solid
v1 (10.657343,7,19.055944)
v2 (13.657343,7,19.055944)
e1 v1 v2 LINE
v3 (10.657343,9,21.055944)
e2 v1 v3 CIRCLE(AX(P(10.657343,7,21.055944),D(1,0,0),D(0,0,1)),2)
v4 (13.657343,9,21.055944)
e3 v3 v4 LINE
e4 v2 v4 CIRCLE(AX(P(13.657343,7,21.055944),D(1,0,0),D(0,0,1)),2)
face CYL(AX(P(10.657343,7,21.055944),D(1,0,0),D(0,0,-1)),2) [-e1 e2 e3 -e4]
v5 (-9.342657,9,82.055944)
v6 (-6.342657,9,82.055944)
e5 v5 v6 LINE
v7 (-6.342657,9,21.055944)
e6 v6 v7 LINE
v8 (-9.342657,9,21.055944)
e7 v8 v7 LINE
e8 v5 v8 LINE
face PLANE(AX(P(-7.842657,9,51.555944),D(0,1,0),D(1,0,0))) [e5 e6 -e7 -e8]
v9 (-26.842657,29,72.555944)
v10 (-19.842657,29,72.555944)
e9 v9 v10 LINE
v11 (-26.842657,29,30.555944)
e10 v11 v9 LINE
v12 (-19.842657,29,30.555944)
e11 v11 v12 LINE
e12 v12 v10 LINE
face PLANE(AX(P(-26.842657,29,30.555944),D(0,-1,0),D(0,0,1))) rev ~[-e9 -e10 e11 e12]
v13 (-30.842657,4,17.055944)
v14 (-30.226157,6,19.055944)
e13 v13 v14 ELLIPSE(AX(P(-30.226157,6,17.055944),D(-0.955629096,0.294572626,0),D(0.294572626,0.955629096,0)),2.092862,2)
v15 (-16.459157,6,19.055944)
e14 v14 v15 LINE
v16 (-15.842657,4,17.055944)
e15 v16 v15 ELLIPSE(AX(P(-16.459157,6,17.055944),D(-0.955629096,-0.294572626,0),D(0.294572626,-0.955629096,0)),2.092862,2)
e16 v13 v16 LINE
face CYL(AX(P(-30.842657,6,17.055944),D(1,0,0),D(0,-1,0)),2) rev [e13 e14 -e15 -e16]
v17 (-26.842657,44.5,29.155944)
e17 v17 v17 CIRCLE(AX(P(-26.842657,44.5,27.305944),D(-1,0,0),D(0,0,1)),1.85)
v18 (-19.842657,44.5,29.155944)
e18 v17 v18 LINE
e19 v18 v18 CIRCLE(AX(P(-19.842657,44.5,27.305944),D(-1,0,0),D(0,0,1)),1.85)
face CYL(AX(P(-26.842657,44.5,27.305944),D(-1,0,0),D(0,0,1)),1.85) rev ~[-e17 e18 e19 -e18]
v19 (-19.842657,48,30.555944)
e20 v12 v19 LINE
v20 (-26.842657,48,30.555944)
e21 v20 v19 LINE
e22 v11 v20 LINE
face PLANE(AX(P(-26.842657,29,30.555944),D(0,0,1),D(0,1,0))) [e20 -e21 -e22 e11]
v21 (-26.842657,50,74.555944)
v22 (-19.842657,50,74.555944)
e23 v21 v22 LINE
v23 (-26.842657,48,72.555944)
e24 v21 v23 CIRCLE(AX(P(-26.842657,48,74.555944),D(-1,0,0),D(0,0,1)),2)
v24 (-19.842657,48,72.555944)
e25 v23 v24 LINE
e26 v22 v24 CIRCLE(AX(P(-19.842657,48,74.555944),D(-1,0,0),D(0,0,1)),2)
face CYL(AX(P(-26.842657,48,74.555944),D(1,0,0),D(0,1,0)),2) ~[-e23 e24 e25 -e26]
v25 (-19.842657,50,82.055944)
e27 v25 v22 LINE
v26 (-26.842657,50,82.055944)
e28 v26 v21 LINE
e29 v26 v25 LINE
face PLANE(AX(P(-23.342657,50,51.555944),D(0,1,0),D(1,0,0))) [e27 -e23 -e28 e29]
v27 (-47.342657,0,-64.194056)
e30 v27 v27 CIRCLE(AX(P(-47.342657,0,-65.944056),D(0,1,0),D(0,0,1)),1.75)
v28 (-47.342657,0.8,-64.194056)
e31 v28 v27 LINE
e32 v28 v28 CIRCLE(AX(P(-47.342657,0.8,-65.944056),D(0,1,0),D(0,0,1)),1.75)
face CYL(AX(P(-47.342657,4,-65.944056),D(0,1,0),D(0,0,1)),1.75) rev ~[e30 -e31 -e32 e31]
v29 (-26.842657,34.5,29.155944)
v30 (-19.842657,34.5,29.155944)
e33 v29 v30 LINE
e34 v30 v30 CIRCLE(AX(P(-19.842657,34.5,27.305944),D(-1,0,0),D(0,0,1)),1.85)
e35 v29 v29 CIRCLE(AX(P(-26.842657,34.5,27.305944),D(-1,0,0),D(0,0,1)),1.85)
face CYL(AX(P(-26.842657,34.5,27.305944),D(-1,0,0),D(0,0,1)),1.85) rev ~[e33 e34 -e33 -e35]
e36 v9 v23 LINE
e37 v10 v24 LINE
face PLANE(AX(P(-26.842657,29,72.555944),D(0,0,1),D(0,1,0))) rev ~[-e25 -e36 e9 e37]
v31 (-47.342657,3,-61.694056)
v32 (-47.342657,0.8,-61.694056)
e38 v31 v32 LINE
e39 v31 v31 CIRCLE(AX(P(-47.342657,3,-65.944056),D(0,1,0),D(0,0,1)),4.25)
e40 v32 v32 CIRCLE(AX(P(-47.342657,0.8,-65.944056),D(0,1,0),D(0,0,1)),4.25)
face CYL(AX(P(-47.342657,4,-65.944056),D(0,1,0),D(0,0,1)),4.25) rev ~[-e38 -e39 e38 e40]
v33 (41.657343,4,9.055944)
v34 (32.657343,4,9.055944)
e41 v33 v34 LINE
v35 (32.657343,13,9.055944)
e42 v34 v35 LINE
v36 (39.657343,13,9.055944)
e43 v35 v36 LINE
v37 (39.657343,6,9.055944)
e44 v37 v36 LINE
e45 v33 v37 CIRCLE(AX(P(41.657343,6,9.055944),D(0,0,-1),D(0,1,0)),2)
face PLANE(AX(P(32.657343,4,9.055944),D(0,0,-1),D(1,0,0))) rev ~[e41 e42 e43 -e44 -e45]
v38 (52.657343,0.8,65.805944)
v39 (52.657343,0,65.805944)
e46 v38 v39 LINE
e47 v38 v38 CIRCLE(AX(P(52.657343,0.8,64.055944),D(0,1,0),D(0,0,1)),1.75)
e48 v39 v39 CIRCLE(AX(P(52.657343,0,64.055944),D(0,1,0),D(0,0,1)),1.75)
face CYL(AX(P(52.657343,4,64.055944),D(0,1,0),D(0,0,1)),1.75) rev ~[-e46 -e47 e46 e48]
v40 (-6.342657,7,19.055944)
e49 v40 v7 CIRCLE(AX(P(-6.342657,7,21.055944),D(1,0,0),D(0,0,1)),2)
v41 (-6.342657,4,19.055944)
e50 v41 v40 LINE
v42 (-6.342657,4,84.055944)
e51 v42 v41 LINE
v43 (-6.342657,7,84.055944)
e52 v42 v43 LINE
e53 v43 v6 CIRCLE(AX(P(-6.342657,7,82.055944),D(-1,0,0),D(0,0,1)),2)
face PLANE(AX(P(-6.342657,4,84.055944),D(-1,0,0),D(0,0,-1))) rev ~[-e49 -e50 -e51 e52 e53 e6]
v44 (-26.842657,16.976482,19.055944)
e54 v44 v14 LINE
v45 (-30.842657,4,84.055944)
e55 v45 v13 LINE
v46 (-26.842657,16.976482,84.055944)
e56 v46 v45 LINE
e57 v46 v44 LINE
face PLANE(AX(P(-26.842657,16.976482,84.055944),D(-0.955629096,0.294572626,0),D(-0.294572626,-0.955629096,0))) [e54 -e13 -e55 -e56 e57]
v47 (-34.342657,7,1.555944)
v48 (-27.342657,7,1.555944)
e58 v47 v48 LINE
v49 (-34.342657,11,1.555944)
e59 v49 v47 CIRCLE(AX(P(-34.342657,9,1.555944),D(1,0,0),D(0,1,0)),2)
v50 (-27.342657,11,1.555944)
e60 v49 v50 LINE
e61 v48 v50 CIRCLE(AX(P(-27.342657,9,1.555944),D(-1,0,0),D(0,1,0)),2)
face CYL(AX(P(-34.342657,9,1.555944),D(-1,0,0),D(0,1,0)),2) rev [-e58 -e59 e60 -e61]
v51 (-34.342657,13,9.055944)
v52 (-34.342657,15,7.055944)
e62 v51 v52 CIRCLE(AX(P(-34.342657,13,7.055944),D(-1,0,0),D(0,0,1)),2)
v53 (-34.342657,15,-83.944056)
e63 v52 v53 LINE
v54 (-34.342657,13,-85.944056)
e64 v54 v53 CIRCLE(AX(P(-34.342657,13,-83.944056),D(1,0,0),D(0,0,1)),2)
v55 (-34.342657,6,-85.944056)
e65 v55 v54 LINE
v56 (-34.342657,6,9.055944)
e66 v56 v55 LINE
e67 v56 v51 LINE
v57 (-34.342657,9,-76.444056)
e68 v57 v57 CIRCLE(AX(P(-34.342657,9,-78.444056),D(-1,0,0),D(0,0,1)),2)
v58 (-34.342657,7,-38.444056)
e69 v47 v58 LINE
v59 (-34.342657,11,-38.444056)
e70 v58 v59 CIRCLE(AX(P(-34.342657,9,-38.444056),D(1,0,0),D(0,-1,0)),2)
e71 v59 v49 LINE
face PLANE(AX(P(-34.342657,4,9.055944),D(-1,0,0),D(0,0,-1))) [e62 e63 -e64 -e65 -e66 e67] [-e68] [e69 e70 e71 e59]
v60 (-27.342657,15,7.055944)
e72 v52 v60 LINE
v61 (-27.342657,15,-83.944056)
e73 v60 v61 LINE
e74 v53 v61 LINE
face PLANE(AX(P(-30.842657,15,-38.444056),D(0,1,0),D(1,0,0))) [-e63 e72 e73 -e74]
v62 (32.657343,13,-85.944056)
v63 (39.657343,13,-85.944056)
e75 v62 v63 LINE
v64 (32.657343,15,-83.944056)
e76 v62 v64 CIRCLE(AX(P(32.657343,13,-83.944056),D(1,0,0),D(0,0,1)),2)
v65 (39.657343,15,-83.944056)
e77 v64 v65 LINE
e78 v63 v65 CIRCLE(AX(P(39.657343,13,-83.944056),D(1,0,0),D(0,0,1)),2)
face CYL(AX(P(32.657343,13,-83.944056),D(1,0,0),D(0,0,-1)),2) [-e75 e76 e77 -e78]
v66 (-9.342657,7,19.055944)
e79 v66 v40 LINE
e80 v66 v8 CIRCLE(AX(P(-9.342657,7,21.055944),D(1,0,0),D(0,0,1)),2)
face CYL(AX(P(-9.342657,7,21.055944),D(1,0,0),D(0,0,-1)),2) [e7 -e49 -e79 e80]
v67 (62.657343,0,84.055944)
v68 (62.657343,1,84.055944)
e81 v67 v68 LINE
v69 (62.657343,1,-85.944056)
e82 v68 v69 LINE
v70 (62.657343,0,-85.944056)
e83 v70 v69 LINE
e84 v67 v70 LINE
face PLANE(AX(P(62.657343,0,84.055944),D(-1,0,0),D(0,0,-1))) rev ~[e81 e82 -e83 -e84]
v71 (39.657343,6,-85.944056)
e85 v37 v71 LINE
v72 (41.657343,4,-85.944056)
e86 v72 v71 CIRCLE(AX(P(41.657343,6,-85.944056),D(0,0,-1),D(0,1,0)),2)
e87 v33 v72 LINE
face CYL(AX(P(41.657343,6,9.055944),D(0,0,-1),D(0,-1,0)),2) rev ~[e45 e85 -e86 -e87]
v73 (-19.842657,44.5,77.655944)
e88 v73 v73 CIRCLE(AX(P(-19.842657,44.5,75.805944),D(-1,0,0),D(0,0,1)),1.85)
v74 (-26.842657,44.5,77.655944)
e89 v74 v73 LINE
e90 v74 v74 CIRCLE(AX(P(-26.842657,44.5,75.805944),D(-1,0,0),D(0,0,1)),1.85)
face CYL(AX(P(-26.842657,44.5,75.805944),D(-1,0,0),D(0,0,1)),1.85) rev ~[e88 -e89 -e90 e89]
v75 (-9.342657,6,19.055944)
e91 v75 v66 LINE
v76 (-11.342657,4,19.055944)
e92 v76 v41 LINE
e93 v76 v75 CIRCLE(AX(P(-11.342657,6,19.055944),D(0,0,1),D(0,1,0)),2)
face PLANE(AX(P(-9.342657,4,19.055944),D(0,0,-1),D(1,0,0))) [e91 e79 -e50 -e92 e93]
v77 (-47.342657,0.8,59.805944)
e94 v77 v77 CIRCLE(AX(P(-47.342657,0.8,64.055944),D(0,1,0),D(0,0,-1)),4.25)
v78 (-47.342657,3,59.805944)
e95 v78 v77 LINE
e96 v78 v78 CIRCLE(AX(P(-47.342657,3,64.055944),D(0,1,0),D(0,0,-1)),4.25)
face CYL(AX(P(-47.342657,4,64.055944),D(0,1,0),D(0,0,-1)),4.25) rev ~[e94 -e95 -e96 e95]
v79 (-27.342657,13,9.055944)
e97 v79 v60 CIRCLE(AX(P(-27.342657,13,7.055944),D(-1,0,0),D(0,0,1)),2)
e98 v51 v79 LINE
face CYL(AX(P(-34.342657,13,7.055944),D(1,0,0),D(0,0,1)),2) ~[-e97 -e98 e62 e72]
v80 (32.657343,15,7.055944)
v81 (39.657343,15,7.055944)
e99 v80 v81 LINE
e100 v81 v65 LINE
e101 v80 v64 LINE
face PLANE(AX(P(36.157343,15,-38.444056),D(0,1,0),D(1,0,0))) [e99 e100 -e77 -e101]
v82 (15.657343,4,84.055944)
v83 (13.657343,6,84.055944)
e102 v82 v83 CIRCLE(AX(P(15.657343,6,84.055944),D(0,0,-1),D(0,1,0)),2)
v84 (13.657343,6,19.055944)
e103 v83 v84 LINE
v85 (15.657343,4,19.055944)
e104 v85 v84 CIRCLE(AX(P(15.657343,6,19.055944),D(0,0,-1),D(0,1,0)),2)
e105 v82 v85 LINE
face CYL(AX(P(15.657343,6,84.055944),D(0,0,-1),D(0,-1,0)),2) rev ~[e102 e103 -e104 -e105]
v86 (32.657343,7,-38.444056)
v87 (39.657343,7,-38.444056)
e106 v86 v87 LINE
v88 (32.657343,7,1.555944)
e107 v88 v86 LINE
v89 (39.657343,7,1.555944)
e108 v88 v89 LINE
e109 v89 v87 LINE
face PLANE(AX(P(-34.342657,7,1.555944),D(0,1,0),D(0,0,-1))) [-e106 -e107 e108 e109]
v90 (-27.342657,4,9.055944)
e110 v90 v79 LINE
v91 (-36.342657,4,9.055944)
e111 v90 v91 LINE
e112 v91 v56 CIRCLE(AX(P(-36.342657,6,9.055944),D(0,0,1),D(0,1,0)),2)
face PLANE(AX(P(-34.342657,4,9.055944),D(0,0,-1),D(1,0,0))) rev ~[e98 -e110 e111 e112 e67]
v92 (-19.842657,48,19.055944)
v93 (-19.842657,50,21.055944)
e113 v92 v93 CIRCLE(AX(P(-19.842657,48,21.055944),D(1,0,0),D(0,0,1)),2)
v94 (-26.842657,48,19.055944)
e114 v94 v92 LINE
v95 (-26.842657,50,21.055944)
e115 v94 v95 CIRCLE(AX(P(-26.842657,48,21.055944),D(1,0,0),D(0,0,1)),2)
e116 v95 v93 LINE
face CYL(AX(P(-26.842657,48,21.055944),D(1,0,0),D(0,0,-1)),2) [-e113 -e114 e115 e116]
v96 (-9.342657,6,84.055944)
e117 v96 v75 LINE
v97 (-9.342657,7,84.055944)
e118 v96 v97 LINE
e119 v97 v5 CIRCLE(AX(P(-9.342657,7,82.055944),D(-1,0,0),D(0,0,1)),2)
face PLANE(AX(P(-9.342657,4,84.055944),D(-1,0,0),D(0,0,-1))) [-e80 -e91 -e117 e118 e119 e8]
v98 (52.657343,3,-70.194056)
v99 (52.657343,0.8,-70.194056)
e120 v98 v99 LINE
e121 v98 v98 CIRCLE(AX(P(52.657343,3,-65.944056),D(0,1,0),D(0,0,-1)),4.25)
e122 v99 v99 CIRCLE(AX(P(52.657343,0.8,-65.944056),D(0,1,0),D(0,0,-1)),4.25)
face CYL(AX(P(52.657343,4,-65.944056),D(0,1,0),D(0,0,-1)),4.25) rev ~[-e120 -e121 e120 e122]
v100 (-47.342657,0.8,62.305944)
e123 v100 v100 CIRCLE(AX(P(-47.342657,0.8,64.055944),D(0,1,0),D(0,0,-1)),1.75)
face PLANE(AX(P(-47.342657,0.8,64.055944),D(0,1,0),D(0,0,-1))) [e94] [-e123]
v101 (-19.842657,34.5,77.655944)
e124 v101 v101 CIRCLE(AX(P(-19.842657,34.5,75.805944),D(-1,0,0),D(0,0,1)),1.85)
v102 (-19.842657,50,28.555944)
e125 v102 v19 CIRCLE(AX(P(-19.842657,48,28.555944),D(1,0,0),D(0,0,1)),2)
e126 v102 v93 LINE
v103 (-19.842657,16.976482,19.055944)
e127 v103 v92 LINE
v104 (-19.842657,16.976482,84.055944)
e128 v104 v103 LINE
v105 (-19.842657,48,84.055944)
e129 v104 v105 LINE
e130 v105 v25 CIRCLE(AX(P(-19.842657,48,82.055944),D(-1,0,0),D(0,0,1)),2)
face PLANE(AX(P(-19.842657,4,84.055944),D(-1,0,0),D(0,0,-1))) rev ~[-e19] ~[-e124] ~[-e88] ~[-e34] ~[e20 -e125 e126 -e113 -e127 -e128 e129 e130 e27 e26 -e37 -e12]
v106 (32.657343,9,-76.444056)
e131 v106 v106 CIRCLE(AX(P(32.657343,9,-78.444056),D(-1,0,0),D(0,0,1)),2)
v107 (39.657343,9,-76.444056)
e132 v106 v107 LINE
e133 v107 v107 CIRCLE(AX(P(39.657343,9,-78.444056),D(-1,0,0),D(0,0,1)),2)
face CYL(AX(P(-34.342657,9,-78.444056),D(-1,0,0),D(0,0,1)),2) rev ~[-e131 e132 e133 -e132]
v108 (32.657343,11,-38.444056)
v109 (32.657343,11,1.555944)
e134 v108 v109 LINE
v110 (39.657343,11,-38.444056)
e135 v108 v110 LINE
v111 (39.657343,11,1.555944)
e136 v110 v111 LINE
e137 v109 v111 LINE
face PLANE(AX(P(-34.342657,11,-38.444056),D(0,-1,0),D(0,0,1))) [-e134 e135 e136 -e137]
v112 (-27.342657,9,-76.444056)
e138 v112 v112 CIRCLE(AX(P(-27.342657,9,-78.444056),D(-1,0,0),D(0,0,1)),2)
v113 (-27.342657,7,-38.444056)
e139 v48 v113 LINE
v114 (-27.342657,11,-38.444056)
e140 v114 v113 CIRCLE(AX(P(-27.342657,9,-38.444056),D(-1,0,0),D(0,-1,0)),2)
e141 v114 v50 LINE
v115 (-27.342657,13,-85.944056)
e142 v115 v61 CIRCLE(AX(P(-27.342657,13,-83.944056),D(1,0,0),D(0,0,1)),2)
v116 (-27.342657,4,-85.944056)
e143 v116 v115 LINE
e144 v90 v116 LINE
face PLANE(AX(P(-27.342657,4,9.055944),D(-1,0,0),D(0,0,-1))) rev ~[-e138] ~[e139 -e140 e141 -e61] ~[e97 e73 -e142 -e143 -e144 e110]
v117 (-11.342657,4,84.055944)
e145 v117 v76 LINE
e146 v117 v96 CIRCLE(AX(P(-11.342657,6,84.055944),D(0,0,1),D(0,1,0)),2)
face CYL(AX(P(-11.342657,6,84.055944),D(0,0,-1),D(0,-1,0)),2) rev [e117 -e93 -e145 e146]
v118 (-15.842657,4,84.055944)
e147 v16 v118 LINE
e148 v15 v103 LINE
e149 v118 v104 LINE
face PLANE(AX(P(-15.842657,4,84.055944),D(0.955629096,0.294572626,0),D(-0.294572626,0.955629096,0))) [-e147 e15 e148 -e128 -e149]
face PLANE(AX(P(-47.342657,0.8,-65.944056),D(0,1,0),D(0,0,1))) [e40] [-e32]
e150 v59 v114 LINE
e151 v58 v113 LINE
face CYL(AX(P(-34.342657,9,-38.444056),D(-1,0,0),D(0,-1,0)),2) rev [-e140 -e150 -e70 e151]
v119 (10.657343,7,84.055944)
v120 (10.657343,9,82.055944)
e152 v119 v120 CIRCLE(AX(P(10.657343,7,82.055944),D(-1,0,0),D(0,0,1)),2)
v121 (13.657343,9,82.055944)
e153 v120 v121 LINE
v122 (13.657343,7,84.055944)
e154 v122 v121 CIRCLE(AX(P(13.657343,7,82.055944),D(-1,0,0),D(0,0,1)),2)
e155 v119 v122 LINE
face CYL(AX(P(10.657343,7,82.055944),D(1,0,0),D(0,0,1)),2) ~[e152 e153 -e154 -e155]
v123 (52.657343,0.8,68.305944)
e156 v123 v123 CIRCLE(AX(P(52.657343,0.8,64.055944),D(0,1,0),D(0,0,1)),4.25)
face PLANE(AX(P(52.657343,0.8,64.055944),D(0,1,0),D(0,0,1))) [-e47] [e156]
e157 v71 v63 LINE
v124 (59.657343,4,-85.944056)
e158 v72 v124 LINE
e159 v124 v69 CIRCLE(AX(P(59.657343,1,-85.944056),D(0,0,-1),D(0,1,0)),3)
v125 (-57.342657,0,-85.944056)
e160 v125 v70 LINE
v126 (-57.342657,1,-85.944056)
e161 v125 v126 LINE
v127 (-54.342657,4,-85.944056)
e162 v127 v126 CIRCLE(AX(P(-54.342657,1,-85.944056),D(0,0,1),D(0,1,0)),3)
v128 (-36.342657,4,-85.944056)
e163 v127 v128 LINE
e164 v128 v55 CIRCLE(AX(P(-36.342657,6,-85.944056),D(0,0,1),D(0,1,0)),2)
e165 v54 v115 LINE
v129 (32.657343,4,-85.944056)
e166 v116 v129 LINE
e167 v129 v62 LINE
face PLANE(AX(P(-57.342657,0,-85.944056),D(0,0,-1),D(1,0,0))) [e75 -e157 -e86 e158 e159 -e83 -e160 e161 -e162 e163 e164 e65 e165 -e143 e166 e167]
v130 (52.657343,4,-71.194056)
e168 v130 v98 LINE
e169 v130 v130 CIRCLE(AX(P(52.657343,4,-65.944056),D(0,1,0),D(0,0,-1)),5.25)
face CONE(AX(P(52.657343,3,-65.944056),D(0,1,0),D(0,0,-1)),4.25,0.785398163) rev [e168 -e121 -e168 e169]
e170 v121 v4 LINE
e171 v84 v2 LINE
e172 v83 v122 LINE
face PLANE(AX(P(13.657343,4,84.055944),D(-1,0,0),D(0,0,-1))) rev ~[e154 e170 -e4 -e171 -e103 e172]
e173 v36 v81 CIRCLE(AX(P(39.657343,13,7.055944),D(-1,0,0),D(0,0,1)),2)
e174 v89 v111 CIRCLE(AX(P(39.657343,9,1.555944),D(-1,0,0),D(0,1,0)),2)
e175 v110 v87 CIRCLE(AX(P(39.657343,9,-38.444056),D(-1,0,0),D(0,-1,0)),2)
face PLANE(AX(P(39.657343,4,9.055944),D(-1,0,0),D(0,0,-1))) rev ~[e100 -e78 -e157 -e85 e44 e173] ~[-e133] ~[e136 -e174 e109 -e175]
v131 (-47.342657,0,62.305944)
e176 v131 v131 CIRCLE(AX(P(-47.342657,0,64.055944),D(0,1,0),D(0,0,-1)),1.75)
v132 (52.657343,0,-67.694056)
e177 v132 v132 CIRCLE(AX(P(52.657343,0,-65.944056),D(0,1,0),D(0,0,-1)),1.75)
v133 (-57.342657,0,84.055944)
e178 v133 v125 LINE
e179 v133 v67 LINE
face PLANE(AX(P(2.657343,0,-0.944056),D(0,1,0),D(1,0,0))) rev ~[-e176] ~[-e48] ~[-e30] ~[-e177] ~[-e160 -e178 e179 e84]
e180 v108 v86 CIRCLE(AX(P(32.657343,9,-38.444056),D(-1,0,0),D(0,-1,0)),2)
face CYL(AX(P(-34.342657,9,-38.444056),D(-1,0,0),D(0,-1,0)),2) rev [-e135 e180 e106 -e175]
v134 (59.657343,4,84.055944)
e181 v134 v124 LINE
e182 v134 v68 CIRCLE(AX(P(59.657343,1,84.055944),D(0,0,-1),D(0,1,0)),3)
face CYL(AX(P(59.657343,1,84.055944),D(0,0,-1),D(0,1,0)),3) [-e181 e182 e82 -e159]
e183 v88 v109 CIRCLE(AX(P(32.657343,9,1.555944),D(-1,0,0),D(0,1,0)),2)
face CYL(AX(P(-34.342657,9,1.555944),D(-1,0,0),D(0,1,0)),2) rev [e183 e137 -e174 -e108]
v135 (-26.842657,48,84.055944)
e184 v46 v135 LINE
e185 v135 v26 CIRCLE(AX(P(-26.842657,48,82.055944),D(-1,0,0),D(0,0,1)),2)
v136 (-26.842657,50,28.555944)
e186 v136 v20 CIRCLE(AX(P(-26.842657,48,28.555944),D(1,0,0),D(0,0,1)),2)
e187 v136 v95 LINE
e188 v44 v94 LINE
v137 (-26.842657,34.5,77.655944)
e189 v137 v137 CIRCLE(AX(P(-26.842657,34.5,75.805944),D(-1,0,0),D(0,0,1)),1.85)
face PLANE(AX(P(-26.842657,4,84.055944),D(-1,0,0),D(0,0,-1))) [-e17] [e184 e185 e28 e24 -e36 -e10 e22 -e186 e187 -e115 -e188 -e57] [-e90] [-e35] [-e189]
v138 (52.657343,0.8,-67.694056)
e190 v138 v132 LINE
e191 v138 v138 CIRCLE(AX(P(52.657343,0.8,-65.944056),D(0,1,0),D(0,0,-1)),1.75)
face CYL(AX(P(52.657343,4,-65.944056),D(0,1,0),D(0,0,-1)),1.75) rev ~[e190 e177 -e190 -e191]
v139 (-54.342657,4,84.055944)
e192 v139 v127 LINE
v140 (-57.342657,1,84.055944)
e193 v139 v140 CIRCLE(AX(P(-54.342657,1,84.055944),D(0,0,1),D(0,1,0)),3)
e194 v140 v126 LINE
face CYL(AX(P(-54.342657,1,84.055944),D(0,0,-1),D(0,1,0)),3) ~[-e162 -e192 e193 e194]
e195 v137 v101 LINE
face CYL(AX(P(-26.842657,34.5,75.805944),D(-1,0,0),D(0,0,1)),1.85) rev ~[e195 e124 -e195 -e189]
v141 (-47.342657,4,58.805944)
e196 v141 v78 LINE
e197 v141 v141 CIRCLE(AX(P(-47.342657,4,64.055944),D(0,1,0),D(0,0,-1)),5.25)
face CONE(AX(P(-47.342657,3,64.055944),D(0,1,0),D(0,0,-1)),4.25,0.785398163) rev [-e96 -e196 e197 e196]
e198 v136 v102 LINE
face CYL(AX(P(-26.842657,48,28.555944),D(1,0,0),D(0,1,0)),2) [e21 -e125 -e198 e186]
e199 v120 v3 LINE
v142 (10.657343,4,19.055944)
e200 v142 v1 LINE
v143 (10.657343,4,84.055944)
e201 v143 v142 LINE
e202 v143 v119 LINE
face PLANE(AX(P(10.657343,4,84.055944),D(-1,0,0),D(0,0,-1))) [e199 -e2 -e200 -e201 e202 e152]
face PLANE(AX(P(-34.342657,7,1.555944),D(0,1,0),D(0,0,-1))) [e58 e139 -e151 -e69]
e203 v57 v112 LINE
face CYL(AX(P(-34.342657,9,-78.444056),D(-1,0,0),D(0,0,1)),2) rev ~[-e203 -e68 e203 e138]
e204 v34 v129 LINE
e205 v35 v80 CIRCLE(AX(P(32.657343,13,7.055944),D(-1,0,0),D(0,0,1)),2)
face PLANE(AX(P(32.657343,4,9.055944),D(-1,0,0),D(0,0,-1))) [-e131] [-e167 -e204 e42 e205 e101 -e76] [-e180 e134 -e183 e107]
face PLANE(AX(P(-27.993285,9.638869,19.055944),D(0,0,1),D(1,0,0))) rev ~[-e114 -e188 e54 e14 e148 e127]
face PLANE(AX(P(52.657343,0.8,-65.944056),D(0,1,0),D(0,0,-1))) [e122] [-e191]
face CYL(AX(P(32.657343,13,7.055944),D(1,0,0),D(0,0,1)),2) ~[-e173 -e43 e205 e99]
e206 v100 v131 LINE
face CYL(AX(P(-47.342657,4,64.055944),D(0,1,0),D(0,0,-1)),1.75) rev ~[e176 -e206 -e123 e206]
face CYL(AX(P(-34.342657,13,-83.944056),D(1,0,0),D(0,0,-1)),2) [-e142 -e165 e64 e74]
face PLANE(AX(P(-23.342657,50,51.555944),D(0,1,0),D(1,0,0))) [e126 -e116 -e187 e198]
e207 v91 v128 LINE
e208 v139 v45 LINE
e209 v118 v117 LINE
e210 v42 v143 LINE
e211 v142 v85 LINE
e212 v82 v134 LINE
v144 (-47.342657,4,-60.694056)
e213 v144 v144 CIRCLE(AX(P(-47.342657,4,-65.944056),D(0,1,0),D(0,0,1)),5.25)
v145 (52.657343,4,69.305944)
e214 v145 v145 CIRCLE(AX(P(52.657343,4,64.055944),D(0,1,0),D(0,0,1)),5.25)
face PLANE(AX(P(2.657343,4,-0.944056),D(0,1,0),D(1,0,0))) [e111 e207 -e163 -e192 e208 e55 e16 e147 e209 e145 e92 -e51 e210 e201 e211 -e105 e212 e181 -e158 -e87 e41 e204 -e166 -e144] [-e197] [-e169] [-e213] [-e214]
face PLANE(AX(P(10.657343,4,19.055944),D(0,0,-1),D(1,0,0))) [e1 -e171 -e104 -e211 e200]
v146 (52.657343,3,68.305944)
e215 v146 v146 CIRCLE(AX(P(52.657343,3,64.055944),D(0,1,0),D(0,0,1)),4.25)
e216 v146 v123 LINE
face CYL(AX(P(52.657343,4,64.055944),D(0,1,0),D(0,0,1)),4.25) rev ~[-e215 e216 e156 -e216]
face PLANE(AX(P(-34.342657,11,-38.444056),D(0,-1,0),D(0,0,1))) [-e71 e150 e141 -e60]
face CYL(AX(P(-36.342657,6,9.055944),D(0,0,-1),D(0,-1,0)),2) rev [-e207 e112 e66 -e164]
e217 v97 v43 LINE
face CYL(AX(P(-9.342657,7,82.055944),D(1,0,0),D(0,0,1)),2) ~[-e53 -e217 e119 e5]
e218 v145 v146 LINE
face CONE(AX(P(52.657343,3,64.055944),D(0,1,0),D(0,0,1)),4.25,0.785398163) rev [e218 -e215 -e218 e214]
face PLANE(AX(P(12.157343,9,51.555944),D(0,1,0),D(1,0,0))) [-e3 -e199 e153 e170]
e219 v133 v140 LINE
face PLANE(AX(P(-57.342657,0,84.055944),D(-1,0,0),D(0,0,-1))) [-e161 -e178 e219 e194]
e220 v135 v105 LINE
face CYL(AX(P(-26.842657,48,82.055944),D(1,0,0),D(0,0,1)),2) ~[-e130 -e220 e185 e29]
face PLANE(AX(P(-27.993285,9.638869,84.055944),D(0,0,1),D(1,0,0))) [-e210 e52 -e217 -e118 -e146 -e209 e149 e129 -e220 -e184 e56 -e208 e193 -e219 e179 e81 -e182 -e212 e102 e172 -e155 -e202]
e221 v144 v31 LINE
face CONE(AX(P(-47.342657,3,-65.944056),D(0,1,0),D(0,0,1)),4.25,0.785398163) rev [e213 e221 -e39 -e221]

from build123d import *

# Parameters (mm, degrees)
SKETCH_1_W          = 120
SKETCH_1_H          = 170
EXTRUDE_1_DEPTH     = 4
SKETCH_2_R          = 1.75
CUT_EXTRUDE_1_DEPTH = 107.434596542
SKETCH_3_W          = 7
SKETCH_3_H          = 95
EXTRUDE_2_DEPTH     = 11
SKETCH_4_R          = 2
CUT_EXTRUDE_3_DEPTH = 131.46218131
SKETCH_5_W          = 7
SKETCH_5_H          = 65
EXTRUDE_3_DEPTH     = 46
SKETCH_7_R          = 1.85
SKETCH_7_W          = 42
SKETCH_7_H          = 21
CUT_EXTRUDE_4_DEPTH = 134.77828954
SKETCH_9_W          = 3
SKETCH_9_H          = 65
EXTRUDE_4_DEPTH     = 5
EXTRUDE_5_DEPTH     = 65
SKETCH_13_R         = 4.25
CUT_EXTRUDE_5_DEPTH = 3.2
FILLET_3_R          = 3
FILLET_5_R          = 2
CHAMFER_1_SIZE      = 1
FILLET_6_R          = 2


with BuildPart() as part:
    # 草图1 → 凸台-拉伸1 (new body)
    with BuildSketch(Plane(origin=(0, 0, 0), x_dir=(1, 0, 0), z_dir=(0, 1, 0))):
        with Locations((2.657342657, 0.944055944)):
            Rectangle(SKETCH_1_W, SKETCH_1_H)
    extrude(amount=EXTRUDE_1_DEPTH)

    # 草图2 → 切除-拉伸1 (cut, through all)
    with BuildSketch(Plane(origin=(0, 4, 0), x_dir=(1, 0, 0), z_dir=(0, 1, 0))):
        with Locations(Location((-47.342657343, 65.944055944, 0), (0, 0, 270))):
            Circle(SKETCH_2_R)
        with Locations(Location((-47.342657343, -64.055944056, 0), (0, 0, 90))):
            Circle(SKETCH_2_R)
        with Locations(Location((52.657342657, -64.055944056, 0), (0, 0, 270))):
            Circle(SKETCH_2_R)
        with Locations(Location((52.657342657, 65.944055944, 0), (0, 0, 90))):
            Circle(SKETCH_2_R)
    extrude(amount=-CUT_EXTRUDE_1_DEPTH, mode=Mode.SUBTRACT)

    # 草图3 → 凸台-拉伸2 (add)
    with BuildSketch(Plane(origin=(0, 4, 0), x_dir=(1, 0, 0), z_dir=(0, 1, 0))):
        with Locations((-30.842657343, 38.444055944)):
            Rectangle(SKETCH_3_W, SKETCH_3_H)
        with Locations((36.157342657, 38.444055944)):
            Rectangle(SKETCH_3_W, SKETCH_3_H)
    extrude(amount=EXTRUDE_2_DEPTH)

    # 草图4 → 切除-拉伸3 (cut, through all)
    with BuildSketch(Plane.ZY.offset(34.342657343)):
        with Locations((-78.444055944, 9)):
            Circle(SKETCH_4_R)
        with BuildLine():
            Line((-38.444055944, 11), (1.555944056, 11))
            ThreePointArc((1.555944056, 11), (3.555944056, 9), (1.555944056, 7))
            Line((1.555944056, 7), (-38.444055944, 7))
            ThreePointArc((-38.444055944, 7), (-40.444055944, 9), (-38.444055944, 11))
        make_face()
    extrude(amount=-CUT_EXTRUDE_3_DEPTH, mode=Mode.SUBTRACT)

    # 草图5 → 凸台-拉伸3 (add)
    with BuildSketch(Plane(origin=(0, 4, 0), x_dir=(1, 0, 0), z_dir=(0, 1, 0))):
        with Locations((-23.342657343, -51.555944056)):
            Rectangle(SKETCH_5_W, SKETCH_5_H)
    extrude(amount=EXTRUDE_3_DEPTH)

    # 草图7 → 切除-拉伸4 (cut, through all)
    with BuildSketch(Plane.ZY.offset(26.842657343)):
        with Locations((27.305944056, 34.5)):
            Circle(SKETCH_7_R)
        with Locations((27.305944056, 44.5)):
            Circle(SKETCH_7_R)
        with Locations((75.805944056, 44.5)):
            Circle(SKETCH_7_R)
        with Locations((75.805944056, 34.5)):
            Circle(SKETCH_7_R)
        with Locations((51.555944056, 39.5)):
            Rectangle(SKETCH_7_W, SKETCH_7_H)
    extrude(amount=-CUT_EXTRUDE_4_DEPTH, mode=Mode.SUBTRACT)

    # 草图9 → 凸台-拉伸4 (add)
    with BuildSketch(Plane(origin=(0, 4, 0), x_dir=(1, 0, 0), z_dir=(0, 1, 0))):
        with Locations((-7.842657343, -51.555944056)):
            Rectangle(SKETCH_9_W, SKETCH_9_H)
        with Locations((12.157342657, -51.555944056)):
            Rectangle(SKETCH_9_W, SKETCH_9_H)
    extrude(amount=EXTRUDE_4_DEPTH)

    # 草图11 → 凸台-拉伸5 (add)
    with BuildSketch(Plane(origin=(-26.842657343, 4, 84.055944056), x_dir=(1, 0, 0), z_dir=(0, 0, 1))):
        Polygon((0, 12.976482023), (-4, 0), (0, 0), align=None)
        Polygon((7, 0), (11, 0), (7, 12.976482023), align=None)
    extrude(amount=-EXTRUDE_5_DEPTH)

    # 草图13 → 切除-拉伸5 (cut)
    with BuildSketch(Plane(origin=(0, 4, 0), x_dir=(1, 0, 0), z_dir=(0, 1, 0))):
        with Locations(Location((-47.342657343, 65.944055944, 0), (0, 0, 270))):
            Circle(SKETCH_13_R)
        with Locations(Location((52.657342657, 65.944055944, 0), (0, 0, 90))):
            Circle(SKETCH_13_R)
        with Locations(Location((52.657342657, -64.055944056, 0), (0, 0, 270))):
            Circle(SKETCH_13_R)
        with Locations(Location((-47.342657343, -64.055944056, 0), (0, 0, 90))):
            Circle(SKETCH_13_R)
    extrude(amount=-CUT_EXTRUDE_5_DEPTH, mode=Mode.SUBTRACT)

    # 圆角3
    fillet_3_edges = [part.edges().sort_by_distance(p)[0] for p in [
        (-57.342657343, 4, -0.944055944),
        (62.657342657, 4, -0.944055944),
    ]]
    fillet(fillet_3_edges, radius=FILLET_3_R)

    # 圆角5
    fillet_5_edges = [part.edges().sort_by_distance(p)[0] for p in [
        (-9.342657343, 4, 51.555944056),
        (13.657342657, 4, 51.555944056),
    ]]
    fillet(fillet_5_edges, radius=FILLET_5_R)

    # 倒角1
    chamfer_1_edges = [part.edges().sort_by_distance(p)[0] for p in [
        (-47.342657343, 4, 68.305944056),
        (52.657342657, 4, 59.805944056),
        (52.657342657, 4, -61.694055944),
        (-47.342657343, 4, -70.194055944),
    ]]
    chamfer(chamfer_1_edges, length=CHAMFER_1_SIZE)

    # 圆角6
    fillet_6_edges = [part.edges().sort_by_distance(p)[0] for p in [
        (-23.342657343, 4, 19.055944056),
        (-23.342657343, 50, 84.055944056),
        (-23.342657343, 50, 19.055944056),
        (-23.342657343, 50, 72.555944056),
        (-23.342657343, 50, 30.555944056),
        (-7.842657343, 9, 84.055944056),
        (-7.842657343, 9, 19.055944056),
        (12.157342657, 9, 84.055944056),
        (12.157342657, 9, 19.055944056),
        (-34.342657343, 4, -38.444055944),
        (-30.842657343, 15, 9.055944056),
        (-30.842657343, 15, -85.944055944),
        (36.157342657, 15, 9.055944056),
        (36.157342657, 15, -85.944055944),
        (39.657342657, 4, -38.444055944),
    ]]
    fillet(fillet_6_edges, radius=FILLET_6_R)


solid = part.part
